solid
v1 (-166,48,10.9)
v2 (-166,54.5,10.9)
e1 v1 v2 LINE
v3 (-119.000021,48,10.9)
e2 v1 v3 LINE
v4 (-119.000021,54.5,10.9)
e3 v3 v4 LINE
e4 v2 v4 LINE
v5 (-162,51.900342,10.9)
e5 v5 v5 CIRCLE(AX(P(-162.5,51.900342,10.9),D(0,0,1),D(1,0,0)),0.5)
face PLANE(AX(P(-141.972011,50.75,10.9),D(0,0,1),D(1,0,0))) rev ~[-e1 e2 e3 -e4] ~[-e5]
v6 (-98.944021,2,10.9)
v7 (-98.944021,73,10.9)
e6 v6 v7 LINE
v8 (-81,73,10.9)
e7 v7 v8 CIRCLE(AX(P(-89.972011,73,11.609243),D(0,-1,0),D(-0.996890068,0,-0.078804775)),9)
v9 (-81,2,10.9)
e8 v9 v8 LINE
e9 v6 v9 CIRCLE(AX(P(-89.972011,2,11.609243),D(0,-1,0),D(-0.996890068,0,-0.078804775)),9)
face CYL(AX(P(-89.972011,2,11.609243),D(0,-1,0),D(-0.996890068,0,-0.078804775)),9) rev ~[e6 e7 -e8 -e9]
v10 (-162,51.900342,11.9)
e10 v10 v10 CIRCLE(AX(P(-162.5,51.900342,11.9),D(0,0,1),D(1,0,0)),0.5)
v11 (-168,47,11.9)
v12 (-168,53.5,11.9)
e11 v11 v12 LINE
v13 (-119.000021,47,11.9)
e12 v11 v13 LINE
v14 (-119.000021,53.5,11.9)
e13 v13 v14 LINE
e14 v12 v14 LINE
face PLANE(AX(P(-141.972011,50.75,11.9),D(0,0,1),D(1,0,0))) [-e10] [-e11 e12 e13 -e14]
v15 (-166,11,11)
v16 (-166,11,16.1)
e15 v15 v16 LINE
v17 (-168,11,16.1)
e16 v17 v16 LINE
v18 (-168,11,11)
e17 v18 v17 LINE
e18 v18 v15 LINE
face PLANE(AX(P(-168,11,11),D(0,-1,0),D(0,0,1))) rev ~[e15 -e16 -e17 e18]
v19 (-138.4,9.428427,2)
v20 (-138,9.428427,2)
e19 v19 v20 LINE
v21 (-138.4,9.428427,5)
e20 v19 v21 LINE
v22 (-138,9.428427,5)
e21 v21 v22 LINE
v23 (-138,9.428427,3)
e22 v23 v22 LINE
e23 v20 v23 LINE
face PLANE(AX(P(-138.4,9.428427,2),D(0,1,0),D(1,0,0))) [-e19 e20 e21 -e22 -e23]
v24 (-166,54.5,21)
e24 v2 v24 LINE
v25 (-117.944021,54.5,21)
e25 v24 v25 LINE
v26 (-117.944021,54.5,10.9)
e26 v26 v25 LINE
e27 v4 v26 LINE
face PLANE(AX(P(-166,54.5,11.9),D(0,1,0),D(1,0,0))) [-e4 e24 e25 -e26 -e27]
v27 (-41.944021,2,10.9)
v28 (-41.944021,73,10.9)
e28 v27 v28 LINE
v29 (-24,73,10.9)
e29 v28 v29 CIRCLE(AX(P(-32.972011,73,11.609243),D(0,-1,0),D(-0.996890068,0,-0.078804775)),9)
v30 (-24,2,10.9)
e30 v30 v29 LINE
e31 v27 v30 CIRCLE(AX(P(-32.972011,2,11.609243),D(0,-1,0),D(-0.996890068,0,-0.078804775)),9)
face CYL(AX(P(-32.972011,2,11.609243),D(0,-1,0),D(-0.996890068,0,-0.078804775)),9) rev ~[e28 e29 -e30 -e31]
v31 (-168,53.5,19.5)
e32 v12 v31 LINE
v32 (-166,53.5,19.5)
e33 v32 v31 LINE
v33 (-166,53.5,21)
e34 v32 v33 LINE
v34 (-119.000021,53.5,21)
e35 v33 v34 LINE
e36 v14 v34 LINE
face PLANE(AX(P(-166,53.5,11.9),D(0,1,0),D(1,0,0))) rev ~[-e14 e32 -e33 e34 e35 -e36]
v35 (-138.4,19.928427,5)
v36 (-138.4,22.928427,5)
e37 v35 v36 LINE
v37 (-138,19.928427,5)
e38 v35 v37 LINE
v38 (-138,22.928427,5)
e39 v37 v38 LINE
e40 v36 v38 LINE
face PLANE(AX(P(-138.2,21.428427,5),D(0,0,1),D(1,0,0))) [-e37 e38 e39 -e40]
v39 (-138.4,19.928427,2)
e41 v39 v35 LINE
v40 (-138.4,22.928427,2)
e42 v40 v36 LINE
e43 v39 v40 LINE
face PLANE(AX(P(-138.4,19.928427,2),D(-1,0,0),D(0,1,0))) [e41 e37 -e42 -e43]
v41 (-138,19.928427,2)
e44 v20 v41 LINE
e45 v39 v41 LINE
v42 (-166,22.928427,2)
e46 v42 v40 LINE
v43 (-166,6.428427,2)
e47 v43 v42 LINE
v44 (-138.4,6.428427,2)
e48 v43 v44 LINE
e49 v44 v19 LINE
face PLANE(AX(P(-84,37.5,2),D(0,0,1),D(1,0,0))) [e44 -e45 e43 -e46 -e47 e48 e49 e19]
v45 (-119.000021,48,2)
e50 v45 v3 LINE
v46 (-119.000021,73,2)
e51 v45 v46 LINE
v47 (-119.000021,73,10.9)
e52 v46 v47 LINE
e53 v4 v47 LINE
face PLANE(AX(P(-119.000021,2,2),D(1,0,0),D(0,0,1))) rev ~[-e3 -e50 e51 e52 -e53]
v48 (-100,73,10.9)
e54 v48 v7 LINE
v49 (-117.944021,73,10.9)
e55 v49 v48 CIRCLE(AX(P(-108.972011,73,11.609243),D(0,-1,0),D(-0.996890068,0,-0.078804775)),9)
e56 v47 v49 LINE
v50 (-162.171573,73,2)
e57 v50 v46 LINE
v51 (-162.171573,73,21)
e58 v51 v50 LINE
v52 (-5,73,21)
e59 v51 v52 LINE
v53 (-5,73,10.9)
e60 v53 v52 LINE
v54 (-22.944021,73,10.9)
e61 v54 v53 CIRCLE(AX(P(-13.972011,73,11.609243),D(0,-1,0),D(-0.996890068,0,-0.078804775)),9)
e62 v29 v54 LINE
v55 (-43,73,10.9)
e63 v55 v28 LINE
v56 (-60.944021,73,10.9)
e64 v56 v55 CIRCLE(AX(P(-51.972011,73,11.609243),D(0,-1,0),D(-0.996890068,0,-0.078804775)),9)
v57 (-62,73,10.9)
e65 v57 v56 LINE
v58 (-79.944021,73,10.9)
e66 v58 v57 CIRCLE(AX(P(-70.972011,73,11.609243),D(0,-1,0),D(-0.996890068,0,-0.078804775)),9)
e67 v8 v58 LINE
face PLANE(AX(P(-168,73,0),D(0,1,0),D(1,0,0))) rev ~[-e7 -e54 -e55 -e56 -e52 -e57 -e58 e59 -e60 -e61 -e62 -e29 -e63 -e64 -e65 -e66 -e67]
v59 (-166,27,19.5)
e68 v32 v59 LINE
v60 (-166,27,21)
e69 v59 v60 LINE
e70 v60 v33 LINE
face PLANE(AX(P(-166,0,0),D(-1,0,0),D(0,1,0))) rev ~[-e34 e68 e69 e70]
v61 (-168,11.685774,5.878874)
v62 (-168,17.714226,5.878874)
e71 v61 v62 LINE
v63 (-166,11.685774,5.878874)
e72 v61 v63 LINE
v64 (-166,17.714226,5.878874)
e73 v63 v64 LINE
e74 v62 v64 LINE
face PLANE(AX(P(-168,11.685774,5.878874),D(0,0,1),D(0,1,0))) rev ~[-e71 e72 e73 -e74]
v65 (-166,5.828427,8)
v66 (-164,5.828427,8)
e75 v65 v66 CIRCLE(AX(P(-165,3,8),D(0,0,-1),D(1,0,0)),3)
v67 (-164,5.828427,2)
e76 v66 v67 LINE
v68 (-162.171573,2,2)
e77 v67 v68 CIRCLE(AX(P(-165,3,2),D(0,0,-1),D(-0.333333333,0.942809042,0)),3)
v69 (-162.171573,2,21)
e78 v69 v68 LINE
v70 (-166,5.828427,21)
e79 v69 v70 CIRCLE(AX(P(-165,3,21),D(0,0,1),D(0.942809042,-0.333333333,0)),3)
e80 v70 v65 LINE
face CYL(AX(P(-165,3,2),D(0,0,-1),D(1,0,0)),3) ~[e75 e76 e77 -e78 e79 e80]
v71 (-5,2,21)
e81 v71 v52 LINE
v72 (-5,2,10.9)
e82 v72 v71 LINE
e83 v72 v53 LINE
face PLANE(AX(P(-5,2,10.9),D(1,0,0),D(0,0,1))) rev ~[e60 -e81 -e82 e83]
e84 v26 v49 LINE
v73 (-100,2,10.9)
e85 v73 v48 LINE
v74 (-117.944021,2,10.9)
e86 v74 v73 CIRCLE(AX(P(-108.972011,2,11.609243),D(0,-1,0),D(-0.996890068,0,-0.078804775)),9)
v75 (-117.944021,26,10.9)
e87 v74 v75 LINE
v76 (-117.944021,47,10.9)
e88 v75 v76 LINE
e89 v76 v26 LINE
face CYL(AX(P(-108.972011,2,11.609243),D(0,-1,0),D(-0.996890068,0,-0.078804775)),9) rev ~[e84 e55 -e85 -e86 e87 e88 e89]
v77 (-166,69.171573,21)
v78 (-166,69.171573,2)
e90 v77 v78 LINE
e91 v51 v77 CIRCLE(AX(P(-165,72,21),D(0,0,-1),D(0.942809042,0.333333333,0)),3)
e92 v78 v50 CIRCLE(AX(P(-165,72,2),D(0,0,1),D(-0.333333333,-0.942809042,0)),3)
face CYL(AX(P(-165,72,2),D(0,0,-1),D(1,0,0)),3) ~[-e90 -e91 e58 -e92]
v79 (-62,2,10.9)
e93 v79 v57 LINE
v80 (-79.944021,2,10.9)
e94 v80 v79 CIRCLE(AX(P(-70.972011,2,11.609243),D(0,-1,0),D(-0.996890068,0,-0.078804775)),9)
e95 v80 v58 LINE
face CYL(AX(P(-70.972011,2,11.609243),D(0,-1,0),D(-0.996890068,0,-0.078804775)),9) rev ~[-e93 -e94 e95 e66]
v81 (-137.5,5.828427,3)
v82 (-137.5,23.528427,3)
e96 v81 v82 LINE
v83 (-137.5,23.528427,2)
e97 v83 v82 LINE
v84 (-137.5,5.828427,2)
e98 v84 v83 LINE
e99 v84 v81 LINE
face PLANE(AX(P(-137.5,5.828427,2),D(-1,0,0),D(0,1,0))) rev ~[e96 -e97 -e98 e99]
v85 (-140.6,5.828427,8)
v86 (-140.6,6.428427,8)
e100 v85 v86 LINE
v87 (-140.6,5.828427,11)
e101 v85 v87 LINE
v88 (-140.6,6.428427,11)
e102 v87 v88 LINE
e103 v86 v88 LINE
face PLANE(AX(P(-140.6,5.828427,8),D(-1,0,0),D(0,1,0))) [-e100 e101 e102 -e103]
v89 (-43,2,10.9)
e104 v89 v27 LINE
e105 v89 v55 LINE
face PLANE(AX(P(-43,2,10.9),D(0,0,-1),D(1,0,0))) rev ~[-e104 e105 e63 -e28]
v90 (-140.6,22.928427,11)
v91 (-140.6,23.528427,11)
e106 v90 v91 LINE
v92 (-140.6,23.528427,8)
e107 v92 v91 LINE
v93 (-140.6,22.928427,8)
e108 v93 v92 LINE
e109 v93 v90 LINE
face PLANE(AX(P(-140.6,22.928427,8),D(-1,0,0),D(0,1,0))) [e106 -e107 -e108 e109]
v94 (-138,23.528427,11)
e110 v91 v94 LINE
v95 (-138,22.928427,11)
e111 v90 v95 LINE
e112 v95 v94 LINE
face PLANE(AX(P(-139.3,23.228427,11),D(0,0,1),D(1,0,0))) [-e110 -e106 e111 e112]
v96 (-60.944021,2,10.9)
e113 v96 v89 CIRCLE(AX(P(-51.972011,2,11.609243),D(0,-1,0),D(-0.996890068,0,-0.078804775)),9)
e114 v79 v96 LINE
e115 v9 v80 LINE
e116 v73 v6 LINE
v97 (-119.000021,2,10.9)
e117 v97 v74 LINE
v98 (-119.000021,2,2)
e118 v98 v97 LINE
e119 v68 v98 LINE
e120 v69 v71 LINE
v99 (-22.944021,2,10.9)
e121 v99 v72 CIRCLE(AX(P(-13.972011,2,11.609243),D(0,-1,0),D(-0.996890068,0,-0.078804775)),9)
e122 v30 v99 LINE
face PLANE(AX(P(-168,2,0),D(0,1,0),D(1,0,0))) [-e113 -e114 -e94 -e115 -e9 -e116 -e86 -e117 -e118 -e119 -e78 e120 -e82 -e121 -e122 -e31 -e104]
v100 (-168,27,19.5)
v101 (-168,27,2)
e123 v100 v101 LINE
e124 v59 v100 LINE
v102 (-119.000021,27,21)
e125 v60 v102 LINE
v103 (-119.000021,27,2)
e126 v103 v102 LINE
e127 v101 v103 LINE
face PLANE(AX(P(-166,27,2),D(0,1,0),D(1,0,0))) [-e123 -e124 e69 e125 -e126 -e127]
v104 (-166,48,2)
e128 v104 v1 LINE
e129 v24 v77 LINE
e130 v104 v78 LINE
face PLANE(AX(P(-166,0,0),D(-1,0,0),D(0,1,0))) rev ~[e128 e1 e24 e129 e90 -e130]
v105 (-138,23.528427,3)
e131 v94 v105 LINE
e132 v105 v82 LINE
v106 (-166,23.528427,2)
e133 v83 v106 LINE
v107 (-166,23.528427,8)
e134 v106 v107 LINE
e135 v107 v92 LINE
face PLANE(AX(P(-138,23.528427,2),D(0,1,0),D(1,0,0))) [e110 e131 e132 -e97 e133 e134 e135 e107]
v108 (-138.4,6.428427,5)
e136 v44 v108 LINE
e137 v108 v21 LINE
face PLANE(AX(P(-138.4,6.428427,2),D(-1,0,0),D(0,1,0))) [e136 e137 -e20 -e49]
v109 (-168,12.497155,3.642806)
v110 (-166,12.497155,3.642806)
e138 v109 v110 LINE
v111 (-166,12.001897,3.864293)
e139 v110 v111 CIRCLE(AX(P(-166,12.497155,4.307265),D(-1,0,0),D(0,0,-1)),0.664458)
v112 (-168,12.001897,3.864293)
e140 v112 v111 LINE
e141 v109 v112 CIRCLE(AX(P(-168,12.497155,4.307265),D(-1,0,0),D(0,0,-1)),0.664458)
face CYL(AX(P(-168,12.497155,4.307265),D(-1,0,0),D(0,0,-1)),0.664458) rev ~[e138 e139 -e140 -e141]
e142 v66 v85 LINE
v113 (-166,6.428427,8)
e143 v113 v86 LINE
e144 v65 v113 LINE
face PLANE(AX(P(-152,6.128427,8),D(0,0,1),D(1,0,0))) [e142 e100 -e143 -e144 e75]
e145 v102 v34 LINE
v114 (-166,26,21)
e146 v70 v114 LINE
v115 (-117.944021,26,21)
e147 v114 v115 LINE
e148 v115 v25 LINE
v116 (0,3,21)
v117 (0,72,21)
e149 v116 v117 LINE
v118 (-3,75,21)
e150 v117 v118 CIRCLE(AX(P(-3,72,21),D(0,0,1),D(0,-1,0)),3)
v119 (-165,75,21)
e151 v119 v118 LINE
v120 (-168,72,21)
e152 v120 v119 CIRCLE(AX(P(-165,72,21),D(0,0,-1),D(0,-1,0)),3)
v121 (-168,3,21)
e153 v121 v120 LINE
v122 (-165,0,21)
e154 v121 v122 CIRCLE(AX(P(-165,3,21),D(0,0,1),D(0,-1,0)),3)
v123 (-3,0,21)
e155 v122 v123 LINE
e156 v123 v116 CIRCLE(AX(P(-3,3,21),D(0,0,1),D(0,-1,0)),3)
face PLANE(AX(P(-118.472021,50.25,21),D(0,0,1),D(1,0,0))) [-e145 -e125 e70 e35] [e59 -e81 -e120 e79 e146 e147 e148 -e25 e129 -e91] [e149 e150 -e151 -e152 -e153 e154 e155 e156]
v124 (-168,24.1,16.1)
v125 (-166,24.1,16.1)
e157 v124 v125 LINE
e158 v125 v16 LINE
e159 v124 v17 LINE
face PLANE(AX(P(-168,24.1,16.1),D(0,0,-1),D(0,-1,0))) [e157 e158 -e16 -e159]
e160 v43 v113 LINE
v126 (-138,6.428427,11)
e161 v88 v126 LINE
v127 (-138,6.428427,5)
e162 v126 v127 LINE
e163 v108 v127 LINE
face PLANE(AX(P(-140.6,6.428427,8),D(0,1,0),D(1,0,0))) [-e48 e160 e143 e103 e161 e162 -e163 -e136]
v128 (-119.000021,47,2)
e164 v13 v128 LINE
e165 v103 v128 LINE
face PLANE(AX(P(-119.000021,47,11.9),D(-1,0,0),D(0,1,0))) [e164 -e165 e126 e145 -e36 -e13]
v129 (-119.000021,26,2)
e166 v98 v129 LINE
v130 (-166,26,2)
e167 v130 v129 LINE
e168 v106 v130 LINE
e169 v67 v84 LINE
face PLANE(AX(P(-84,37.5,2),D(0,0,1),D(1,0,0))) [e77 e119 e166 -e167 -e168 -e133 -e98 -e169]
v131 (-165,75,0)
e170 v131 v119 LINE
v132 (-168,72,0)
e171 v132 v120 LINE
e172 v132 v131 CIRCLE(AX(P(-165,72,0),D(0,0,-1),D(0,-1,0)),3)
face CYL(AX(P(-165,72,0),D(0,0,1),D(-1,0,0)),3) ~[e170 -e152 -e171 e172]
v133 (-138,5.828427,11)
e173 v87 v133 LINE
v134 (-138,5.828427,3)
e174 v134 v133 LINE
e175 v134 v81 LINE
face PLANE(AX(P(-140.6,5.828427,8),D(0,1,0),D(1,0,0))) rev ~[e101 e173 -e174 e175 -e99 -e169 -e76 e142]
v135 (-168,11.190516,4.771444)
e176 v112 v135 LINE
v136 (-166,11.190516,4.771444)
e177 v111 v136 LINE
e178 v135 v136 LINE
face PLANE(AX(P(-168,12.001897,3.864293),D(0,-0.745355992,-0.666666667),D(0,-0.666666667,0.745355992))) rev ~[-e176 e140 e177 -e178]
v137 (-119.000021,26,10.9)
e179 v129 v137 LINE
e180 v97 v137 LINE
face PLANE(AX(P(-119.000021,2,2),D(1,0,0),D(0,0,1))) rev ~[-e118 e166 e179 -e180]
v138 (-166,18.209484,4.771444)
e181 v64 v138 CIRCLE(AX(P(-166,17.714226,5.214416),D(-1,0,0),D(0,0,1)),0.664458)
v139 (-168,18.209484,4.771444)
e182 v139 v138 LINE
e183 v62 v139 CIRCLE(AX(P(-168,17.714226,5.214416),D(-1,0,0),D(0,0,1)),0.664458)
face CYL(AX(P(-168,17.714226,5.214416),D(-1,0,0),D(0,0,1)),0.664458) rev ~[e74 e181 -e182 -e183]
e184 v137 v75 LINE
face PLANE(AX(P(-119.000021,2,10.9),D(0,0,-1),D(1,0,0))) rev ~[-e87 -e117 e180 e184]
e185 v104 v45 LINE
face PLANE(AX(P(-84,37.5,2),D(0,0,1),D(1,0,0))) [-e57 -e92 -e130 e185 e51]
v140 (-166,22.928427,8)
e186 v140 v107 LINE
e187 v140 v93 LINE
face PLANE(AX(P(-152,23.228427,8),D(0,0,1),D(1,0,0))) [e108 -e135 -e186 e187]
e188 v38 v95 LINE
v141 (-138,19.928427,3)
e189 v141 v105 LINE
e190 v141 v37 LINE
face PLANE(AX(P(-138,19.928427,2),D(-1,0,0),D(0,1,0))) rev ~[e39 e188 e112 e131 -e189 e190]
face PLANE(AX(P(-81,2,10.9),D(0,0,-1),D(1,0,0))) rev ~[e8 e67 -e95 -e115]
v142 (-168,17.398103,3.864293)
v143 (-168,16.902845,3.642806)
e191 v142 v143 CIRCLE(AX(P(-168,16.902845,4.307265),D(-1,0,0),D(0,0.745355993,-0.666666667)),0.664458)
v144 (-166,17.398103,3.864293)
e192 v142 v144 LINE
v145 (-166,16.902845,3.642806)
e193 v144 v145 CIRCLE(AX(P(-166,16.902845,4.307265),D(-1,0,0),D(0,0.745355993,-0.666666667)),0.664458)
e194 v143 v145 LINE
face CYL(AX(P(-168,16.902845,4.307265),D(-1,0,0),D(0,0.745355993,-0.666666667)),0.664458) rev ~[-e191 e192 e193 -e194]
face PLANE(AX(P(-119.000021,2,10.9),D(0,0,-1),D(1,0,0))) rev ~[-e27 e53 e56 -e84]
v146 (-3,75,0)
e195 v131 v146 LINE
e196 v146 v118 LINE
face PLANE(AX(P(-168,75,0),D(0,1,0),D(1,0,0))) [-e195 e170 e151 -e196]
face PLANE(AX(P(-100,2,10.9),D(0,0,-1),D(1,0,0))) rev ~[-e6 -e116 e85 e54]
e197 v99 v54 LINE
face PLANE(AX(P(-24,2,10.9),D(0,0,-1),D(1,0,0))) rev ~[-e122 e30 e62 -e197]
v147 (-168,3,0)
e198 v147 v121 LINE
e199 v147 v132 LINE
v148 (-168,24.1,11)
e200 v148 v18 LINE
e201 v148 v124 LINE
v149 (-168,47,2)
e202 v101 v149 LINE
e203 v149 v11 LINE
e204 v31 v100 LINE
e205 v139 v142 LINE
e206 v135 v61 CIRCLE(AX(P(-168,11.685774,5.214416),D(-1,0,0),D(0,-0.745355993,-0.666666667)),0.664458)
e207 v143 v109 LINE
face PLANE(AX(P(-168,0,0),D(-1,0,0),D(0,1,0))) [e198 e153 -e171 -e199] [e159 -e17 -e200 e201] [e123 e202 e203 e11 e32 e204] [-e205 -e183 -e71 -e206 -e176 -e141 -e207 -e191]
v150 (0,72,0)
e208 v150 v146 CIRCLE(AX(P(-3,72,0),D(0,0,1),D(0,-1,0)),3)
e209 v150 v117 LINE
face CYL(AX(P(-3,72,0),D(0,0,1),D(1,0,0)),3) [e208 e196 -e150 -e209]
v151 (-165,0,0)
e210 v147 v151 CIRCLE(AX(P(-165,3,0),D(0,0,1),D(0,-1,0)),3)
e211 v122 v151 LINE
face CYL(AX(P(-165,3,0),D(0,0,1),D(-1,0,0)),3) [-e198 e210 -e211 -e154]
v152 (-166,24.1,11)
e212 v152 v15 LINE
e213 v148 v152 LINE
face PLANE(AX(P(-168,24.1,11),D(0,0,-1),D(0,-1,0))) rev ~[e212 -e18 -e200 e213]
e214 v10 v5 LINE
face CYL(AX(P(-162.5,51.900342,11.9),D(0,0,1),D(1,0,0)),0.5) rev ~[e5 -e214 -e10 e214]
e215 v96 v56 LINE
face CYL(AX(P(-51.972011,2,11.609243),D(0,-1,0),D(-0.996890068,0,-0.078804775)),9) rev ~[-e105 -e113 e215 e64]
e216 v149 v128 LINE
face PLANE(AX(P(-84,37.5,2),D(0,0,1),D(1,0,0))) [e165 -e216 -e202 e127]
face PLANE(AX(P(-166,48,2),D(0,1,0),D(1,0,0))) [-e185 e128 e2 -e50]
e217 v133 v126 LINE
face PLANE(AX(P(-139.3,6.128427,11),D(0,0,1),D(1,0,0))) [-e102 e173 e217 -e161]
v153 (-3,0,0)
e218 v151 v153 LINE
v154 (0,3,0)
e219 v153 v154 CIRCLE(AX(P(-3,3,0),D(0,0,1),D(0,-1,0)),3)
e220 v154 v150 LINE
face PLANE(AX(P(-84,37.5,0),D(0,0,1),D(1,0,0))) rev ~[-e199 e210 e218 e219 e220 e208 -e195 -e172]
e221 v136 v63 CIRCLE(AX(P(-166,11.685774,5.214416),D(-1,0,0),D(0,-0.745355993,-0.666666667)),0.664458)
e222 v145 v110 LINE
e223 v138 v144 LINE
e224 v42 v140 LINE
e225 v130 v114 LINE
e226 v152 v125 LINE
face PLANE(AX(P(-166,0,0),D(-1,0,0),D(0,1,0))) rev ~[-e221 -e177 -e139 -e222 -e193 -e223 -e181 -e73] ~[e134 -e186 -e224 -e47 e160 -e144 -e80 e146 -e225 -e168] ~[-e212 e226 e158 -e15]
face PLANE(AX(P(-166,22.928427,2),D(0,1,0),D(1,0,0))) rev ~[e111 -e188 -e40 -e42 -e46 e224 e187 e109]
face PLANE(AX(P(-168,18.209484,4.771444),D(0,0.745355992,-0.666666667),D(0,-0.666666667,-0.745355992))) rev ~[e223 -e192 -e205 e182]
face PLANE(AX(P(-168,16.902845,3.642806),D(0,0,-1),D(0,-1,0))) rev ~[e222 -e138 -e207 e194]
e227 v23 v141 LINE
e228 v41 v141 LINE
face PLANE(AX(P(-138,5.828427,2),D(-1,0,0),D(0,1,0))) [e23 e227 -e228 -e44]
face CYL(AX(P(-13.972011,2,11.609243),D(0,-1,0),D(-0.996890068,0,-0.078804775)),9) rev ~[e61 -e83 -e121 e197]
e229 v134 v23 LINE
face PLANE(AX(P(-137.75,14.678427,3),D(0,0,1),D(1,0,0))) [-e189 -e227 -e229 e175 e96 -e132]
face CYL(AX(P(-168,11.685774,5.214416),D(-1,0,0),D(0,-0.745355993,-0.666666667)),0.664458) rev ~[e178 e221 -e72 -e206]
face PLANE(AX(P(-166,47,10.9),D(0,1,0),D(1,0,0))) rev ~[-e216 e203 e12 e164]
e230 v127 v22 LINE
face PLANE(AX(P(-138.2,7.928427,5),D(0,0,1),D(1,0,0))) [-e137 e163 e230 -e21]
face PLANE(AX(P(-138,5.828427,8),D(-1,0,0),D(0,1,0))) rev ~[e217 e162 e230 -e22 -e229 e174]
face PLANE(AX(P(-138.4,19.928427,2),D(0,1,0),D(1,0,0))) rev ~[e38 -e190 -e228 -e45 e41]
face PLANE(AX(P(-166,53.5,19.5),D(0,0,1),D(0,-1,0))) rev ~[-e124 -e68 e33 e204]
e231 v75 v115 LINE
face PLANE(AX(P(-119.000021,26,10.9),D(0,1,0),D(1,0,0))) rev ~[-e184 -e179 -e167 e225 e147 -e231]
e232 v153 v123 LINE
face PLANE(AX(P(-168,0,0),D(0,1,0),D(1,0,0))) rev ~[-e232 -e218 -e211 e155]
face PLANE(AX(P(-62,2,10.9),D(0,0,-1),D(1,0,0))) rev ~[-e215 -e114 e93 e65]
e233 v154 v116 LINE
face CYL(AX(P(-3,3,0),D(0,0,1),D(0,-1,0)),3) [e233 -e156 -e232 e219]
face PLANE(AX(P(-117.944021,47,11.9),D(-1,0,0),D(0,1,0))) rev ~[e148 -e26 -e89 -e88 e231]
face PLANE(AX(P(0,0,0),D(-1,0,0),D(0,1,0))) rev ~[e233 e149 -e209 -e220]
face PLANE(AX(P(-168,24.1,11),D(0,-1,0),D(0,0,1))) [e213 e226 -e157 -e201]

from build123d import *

# Parameters (mm, degrees)
F0_W      = 168
F0_H      = 75
F1_DEPTH  = 21
F2_T      = -2
F4_DEPTH  = 71
F5_R      = 3
F6_R      = 3
F7_DEPTH  = 19
F8_W      = 13.1
F8_H      = 5.1
F9_DEPTH  = 2
F10_W     = 28
F10_H     = 0.6
F11_DEPTH = 6
F12_W     = 46.9999787775
F12_H     = 1
F13_DEPTH = 19
F14_W     = 46.9999787775
F14_H     = 1
F15_DEPTH = 8.9
F16_W     = 48.0559787775
F16_H     = 7.5
F17_DEPTH = 1
F18_W     = 48.0559787775
F18_H     = 1
F19_DEPTH = 9.1
F20_W     = 1.056
F20_H     = 21
F21_DEPTH = 10.1
F22_W     = 1.056
F22_H     = 6.5
F23_DEPTH = 9.1
F25_DEPTH = 2
F26_R     = 0.5
F27_DEPTH = 1
F28_W     = 0.4
F28_H     = 3
F29_DEPTH = 3
F30_W     = 0.5
F30_H     = 17.7
F31_DEPTH = 1
F32_W     = 2.6
F32_H     = 0.6
F33_DEPTH = 3


with BuildPart() as f1:
    # F0 (on Top) → F1 (new body)
    with BuildSketch(Plane.XY):
        with Locations((-84, 37.5)):
            Rectangle(F0_W, F0_H)
    extrude(amount=F1_DEPTH)

    # F2
    f2_openings = [f1.faces().sort_by_distance(p)[0] for p in [
        (-84, 37.5, 21),
    ]]
    offset(amount=F2_T, openings=f2_openings)

    # F3 (on face) → F4 (join, through all)
    with BuildSketch(Plane(origin=(0, 2, 0), x_dir=(-1, 0, 0), z_dir=(0, 1, 0))):
        with BuildLine():
            ThreePointArc((22.9440212225, 10.9), (13.9720106113, 2.6092429707), (5, 10.9))
            Line((5, 10.9), (5, 21))
            Line((5, 21), (2, 21))
            Line((2, 21), (2, 2))
            Line((2, 2), (119.0000212225, 2))
            Line((119.0000212225, 2), (119.0000212225, 10.9))
            Line((119.0000212225, 10.9), (117.9440212225, 10.9))
            ThreePointArc((117.9440212225, 10.9), (108.9720106113, 2.6092429707), (100, 10.9))
            Line((100, 10.9), (98.9440212225, 10.9))
            ThreePointArc((98.9440212225, 10.9), (89.9720106113, 2.6092429707), (81, 10.9))
            Line((81, 10.9), (79.9440212225, 10.9))
            ThreePointArc((79.9440212225, 10.9), (70.9720106113, 2.6092429707), (62, 10.9))
            Line((62, 10.9), (60.9440212225, 10.9))
            ThreePointArc((60.9440212225, 10.9), (51.9720106113, 2.6092429707), (43, 10.9))
            Line((43, 10.9), (41.9440212225, 10.9))
            ThreePointArc((41.9440212225, 10.9), (32.9720106113, 2.6092429707), (24, 10.9))
            Line((24, 10.9), (22.9440212225, 10.9))
        make_face()
    extrude(amount=F4_DEPTH)

    # F5
    f5_edges = [f1.edges().sort_by_distance(p)[0] for p in [
        (0, 75, 10.5),
        (0, 0, 10.5),
        (-168, 0, 10.5),
        (-168, 75, 10.5),
    ]]
    fillet(f5_edges, radius=F5_R)

    # F6 (on face) → F7 (join, through all)
    with BuildSketch(Plane.XY.offset(2)):
        with Locations((-165, 72)):
            Circle(F6_R)
        with Locations((-165, 3)):
            Circle(F6_R)
    extrude(amount=F7_DEPTH)

    # F8 (on face) → F9 (cut, through all)
    with BuildSketch(Plane(origin=(-168, 0, 0), x_dir=(0, -1, 0), z_dir=(-1, 0, 0))):
        with Locations((-17.55, 13.55)):
            Rectangle(F8_W, F8_H)
        with BuildLine():
            Line((-16.902845189, 3.6428064728), (-12.497154811, 3.6428064728))
            ThreePointArc((-12.497154811, 3.6428064728), (-12.2258908226, 3.700700112), (-12.0018967927, 3.8642925918))
            Line((-12.0018967927, 3.8642925918), (-11.1905160366, 4.7714438549))
            ThreePointArc((-11.1905160366, 4.7714438549), (-11.079209337, 5.4856800815), (-11.6857740549, 5.8788744503))
            Line((-11.6857740549, 5.8788744503), (-17.7142259451, 5.8788744503))
            ThreePointArc((-17.7142259451, 5.8788744503), (-18.320790663, 5.4856800815), (-18.2094839634, 4.7714438549))
            Line((-18.2094839634, 4.7714438549), (-17.3981032073, 3.8642925918))
            ThreePointArc((-17.3981032073, 3.8642925918), (-17.1741091774, 3.700700112), (-16.902845189, 3.6428064728))
        make_face()
    extrude(amount=-F9_DEPTH, mode=Mode.SUBTRACT)

    # F10 (on face) → F11 (join)
    with BuildSketch(Plane.XY.offset(2)):
        with Locations((-152, 6.1284271247)):
            Rectangle(F10_W, F10_H)
        with Locations((-152, 23.2284271247)):
            Rectangle(F10_W, F10_H)
    extrude(amount=F11_DEPTH)

    # F12 (on face) → F13 (join, through all)
    with BuildSketch(Plane.XY.offset(2)):
        with Locations((-142.5000106113, 26.5)):
            Rectangle(F12_W, F12_H)
    extrude(amount=F13_DEPTH)

    # F14 (on face) → F15 (join, through all)
    with BuildSketch(Plane.XY.offset(2)):
        with Locations((-142.5000106113, 47.5)):
            Rectangle(F14_W, F14_H)
    extrude(amount=F15_DEPTH)

    # F16 (on face) → F17 (join)
    with BuildSketch(Plane.XY.offset(10.9)):
        with Locations((-141.9720106113, 50.75)):
            Rectangle(F16_W, F16_H)
    extrude(amount=F17_DEPTH)

    # F18 (on face) → F19 (join, through all)
    with BuildSketch(Plane.XY.offset(11.9)):
        with Locations((-141.9720106113, 54)):
            Rectangle(F18_W, F18_H)
    extrude(amount=F19_DEPTH)

    # F20 (on face) → F21 (join, through all)
    with BuildSketch(Plane.XY.offset(10.9)):
        with Locations((-118.4720212225, 36.5)):
            Rectangle(F20_W, F20_H)
    extrude(amount=F21_DEPTH)

    # F22 (on face) → F23 (join, through all)
    with BuildSketch(Plane.XY.offset(11.9)):
        with Locations((-118.4720212225, 50.25)):
            Rectangle(F22_W, F22_H)
    extrude(amount=F23_DEPTH)

    # F24 (on face) → F25 (cut, through all)
    with BuildSketch(Plane.YZ.offset(-166)):
        Polygon((27, 19.5), (27, 2), (47, 2), (47, 11.9), (53.5, 11.9), (53.5, 19.5), align=None)
    extrude(amount=-F25_DEPTH, mode=Mode.SUBTRACT)

    # F26 (on face) → F27 (cut, through all)
    with BuildSketch(Plane.XY.offset(11.9)):
        with Locations((-162.5, 51.9003421068)):
            Circle(F26_R)
    extrude(amount=-F27_DEPTH, mode=Mode.SUBTRACT)

    # F28 (on face) → F29 (join)
    with BuildSketch(Plane.XY.offset(2)):
        with Locations((-138.2, 7.9284271247)):
            Rectangle(F28_W, F28_H)
        with Locations((-138.2, 21.4284271247)):
            Rectangle(F28_W, F28_H)
    extrude(amount=F29_DEPTH)

    # F30 (on face) → F31 (join)
    with BuildSketch(Plane.XY.offset(2)):
        with Locations((-137.75, 14.6784271247)):
            Rectangle(F30_W, F30_H)
    extrude(amount=F31_DEPTH)

    # F32 (on face) → F33 (join)
    with BuildSketch(Plane.XY.offset(8)):
        with Locations((-139.3, 6.1284271247)):
            Rectangle(F32_W, F32_H)
        with Locations((-139.3, 23.2284271247)):
            Rectangle(F32_W, F32_H)
    extrude(amount=F33_DEPTH)


solid = f1.part
